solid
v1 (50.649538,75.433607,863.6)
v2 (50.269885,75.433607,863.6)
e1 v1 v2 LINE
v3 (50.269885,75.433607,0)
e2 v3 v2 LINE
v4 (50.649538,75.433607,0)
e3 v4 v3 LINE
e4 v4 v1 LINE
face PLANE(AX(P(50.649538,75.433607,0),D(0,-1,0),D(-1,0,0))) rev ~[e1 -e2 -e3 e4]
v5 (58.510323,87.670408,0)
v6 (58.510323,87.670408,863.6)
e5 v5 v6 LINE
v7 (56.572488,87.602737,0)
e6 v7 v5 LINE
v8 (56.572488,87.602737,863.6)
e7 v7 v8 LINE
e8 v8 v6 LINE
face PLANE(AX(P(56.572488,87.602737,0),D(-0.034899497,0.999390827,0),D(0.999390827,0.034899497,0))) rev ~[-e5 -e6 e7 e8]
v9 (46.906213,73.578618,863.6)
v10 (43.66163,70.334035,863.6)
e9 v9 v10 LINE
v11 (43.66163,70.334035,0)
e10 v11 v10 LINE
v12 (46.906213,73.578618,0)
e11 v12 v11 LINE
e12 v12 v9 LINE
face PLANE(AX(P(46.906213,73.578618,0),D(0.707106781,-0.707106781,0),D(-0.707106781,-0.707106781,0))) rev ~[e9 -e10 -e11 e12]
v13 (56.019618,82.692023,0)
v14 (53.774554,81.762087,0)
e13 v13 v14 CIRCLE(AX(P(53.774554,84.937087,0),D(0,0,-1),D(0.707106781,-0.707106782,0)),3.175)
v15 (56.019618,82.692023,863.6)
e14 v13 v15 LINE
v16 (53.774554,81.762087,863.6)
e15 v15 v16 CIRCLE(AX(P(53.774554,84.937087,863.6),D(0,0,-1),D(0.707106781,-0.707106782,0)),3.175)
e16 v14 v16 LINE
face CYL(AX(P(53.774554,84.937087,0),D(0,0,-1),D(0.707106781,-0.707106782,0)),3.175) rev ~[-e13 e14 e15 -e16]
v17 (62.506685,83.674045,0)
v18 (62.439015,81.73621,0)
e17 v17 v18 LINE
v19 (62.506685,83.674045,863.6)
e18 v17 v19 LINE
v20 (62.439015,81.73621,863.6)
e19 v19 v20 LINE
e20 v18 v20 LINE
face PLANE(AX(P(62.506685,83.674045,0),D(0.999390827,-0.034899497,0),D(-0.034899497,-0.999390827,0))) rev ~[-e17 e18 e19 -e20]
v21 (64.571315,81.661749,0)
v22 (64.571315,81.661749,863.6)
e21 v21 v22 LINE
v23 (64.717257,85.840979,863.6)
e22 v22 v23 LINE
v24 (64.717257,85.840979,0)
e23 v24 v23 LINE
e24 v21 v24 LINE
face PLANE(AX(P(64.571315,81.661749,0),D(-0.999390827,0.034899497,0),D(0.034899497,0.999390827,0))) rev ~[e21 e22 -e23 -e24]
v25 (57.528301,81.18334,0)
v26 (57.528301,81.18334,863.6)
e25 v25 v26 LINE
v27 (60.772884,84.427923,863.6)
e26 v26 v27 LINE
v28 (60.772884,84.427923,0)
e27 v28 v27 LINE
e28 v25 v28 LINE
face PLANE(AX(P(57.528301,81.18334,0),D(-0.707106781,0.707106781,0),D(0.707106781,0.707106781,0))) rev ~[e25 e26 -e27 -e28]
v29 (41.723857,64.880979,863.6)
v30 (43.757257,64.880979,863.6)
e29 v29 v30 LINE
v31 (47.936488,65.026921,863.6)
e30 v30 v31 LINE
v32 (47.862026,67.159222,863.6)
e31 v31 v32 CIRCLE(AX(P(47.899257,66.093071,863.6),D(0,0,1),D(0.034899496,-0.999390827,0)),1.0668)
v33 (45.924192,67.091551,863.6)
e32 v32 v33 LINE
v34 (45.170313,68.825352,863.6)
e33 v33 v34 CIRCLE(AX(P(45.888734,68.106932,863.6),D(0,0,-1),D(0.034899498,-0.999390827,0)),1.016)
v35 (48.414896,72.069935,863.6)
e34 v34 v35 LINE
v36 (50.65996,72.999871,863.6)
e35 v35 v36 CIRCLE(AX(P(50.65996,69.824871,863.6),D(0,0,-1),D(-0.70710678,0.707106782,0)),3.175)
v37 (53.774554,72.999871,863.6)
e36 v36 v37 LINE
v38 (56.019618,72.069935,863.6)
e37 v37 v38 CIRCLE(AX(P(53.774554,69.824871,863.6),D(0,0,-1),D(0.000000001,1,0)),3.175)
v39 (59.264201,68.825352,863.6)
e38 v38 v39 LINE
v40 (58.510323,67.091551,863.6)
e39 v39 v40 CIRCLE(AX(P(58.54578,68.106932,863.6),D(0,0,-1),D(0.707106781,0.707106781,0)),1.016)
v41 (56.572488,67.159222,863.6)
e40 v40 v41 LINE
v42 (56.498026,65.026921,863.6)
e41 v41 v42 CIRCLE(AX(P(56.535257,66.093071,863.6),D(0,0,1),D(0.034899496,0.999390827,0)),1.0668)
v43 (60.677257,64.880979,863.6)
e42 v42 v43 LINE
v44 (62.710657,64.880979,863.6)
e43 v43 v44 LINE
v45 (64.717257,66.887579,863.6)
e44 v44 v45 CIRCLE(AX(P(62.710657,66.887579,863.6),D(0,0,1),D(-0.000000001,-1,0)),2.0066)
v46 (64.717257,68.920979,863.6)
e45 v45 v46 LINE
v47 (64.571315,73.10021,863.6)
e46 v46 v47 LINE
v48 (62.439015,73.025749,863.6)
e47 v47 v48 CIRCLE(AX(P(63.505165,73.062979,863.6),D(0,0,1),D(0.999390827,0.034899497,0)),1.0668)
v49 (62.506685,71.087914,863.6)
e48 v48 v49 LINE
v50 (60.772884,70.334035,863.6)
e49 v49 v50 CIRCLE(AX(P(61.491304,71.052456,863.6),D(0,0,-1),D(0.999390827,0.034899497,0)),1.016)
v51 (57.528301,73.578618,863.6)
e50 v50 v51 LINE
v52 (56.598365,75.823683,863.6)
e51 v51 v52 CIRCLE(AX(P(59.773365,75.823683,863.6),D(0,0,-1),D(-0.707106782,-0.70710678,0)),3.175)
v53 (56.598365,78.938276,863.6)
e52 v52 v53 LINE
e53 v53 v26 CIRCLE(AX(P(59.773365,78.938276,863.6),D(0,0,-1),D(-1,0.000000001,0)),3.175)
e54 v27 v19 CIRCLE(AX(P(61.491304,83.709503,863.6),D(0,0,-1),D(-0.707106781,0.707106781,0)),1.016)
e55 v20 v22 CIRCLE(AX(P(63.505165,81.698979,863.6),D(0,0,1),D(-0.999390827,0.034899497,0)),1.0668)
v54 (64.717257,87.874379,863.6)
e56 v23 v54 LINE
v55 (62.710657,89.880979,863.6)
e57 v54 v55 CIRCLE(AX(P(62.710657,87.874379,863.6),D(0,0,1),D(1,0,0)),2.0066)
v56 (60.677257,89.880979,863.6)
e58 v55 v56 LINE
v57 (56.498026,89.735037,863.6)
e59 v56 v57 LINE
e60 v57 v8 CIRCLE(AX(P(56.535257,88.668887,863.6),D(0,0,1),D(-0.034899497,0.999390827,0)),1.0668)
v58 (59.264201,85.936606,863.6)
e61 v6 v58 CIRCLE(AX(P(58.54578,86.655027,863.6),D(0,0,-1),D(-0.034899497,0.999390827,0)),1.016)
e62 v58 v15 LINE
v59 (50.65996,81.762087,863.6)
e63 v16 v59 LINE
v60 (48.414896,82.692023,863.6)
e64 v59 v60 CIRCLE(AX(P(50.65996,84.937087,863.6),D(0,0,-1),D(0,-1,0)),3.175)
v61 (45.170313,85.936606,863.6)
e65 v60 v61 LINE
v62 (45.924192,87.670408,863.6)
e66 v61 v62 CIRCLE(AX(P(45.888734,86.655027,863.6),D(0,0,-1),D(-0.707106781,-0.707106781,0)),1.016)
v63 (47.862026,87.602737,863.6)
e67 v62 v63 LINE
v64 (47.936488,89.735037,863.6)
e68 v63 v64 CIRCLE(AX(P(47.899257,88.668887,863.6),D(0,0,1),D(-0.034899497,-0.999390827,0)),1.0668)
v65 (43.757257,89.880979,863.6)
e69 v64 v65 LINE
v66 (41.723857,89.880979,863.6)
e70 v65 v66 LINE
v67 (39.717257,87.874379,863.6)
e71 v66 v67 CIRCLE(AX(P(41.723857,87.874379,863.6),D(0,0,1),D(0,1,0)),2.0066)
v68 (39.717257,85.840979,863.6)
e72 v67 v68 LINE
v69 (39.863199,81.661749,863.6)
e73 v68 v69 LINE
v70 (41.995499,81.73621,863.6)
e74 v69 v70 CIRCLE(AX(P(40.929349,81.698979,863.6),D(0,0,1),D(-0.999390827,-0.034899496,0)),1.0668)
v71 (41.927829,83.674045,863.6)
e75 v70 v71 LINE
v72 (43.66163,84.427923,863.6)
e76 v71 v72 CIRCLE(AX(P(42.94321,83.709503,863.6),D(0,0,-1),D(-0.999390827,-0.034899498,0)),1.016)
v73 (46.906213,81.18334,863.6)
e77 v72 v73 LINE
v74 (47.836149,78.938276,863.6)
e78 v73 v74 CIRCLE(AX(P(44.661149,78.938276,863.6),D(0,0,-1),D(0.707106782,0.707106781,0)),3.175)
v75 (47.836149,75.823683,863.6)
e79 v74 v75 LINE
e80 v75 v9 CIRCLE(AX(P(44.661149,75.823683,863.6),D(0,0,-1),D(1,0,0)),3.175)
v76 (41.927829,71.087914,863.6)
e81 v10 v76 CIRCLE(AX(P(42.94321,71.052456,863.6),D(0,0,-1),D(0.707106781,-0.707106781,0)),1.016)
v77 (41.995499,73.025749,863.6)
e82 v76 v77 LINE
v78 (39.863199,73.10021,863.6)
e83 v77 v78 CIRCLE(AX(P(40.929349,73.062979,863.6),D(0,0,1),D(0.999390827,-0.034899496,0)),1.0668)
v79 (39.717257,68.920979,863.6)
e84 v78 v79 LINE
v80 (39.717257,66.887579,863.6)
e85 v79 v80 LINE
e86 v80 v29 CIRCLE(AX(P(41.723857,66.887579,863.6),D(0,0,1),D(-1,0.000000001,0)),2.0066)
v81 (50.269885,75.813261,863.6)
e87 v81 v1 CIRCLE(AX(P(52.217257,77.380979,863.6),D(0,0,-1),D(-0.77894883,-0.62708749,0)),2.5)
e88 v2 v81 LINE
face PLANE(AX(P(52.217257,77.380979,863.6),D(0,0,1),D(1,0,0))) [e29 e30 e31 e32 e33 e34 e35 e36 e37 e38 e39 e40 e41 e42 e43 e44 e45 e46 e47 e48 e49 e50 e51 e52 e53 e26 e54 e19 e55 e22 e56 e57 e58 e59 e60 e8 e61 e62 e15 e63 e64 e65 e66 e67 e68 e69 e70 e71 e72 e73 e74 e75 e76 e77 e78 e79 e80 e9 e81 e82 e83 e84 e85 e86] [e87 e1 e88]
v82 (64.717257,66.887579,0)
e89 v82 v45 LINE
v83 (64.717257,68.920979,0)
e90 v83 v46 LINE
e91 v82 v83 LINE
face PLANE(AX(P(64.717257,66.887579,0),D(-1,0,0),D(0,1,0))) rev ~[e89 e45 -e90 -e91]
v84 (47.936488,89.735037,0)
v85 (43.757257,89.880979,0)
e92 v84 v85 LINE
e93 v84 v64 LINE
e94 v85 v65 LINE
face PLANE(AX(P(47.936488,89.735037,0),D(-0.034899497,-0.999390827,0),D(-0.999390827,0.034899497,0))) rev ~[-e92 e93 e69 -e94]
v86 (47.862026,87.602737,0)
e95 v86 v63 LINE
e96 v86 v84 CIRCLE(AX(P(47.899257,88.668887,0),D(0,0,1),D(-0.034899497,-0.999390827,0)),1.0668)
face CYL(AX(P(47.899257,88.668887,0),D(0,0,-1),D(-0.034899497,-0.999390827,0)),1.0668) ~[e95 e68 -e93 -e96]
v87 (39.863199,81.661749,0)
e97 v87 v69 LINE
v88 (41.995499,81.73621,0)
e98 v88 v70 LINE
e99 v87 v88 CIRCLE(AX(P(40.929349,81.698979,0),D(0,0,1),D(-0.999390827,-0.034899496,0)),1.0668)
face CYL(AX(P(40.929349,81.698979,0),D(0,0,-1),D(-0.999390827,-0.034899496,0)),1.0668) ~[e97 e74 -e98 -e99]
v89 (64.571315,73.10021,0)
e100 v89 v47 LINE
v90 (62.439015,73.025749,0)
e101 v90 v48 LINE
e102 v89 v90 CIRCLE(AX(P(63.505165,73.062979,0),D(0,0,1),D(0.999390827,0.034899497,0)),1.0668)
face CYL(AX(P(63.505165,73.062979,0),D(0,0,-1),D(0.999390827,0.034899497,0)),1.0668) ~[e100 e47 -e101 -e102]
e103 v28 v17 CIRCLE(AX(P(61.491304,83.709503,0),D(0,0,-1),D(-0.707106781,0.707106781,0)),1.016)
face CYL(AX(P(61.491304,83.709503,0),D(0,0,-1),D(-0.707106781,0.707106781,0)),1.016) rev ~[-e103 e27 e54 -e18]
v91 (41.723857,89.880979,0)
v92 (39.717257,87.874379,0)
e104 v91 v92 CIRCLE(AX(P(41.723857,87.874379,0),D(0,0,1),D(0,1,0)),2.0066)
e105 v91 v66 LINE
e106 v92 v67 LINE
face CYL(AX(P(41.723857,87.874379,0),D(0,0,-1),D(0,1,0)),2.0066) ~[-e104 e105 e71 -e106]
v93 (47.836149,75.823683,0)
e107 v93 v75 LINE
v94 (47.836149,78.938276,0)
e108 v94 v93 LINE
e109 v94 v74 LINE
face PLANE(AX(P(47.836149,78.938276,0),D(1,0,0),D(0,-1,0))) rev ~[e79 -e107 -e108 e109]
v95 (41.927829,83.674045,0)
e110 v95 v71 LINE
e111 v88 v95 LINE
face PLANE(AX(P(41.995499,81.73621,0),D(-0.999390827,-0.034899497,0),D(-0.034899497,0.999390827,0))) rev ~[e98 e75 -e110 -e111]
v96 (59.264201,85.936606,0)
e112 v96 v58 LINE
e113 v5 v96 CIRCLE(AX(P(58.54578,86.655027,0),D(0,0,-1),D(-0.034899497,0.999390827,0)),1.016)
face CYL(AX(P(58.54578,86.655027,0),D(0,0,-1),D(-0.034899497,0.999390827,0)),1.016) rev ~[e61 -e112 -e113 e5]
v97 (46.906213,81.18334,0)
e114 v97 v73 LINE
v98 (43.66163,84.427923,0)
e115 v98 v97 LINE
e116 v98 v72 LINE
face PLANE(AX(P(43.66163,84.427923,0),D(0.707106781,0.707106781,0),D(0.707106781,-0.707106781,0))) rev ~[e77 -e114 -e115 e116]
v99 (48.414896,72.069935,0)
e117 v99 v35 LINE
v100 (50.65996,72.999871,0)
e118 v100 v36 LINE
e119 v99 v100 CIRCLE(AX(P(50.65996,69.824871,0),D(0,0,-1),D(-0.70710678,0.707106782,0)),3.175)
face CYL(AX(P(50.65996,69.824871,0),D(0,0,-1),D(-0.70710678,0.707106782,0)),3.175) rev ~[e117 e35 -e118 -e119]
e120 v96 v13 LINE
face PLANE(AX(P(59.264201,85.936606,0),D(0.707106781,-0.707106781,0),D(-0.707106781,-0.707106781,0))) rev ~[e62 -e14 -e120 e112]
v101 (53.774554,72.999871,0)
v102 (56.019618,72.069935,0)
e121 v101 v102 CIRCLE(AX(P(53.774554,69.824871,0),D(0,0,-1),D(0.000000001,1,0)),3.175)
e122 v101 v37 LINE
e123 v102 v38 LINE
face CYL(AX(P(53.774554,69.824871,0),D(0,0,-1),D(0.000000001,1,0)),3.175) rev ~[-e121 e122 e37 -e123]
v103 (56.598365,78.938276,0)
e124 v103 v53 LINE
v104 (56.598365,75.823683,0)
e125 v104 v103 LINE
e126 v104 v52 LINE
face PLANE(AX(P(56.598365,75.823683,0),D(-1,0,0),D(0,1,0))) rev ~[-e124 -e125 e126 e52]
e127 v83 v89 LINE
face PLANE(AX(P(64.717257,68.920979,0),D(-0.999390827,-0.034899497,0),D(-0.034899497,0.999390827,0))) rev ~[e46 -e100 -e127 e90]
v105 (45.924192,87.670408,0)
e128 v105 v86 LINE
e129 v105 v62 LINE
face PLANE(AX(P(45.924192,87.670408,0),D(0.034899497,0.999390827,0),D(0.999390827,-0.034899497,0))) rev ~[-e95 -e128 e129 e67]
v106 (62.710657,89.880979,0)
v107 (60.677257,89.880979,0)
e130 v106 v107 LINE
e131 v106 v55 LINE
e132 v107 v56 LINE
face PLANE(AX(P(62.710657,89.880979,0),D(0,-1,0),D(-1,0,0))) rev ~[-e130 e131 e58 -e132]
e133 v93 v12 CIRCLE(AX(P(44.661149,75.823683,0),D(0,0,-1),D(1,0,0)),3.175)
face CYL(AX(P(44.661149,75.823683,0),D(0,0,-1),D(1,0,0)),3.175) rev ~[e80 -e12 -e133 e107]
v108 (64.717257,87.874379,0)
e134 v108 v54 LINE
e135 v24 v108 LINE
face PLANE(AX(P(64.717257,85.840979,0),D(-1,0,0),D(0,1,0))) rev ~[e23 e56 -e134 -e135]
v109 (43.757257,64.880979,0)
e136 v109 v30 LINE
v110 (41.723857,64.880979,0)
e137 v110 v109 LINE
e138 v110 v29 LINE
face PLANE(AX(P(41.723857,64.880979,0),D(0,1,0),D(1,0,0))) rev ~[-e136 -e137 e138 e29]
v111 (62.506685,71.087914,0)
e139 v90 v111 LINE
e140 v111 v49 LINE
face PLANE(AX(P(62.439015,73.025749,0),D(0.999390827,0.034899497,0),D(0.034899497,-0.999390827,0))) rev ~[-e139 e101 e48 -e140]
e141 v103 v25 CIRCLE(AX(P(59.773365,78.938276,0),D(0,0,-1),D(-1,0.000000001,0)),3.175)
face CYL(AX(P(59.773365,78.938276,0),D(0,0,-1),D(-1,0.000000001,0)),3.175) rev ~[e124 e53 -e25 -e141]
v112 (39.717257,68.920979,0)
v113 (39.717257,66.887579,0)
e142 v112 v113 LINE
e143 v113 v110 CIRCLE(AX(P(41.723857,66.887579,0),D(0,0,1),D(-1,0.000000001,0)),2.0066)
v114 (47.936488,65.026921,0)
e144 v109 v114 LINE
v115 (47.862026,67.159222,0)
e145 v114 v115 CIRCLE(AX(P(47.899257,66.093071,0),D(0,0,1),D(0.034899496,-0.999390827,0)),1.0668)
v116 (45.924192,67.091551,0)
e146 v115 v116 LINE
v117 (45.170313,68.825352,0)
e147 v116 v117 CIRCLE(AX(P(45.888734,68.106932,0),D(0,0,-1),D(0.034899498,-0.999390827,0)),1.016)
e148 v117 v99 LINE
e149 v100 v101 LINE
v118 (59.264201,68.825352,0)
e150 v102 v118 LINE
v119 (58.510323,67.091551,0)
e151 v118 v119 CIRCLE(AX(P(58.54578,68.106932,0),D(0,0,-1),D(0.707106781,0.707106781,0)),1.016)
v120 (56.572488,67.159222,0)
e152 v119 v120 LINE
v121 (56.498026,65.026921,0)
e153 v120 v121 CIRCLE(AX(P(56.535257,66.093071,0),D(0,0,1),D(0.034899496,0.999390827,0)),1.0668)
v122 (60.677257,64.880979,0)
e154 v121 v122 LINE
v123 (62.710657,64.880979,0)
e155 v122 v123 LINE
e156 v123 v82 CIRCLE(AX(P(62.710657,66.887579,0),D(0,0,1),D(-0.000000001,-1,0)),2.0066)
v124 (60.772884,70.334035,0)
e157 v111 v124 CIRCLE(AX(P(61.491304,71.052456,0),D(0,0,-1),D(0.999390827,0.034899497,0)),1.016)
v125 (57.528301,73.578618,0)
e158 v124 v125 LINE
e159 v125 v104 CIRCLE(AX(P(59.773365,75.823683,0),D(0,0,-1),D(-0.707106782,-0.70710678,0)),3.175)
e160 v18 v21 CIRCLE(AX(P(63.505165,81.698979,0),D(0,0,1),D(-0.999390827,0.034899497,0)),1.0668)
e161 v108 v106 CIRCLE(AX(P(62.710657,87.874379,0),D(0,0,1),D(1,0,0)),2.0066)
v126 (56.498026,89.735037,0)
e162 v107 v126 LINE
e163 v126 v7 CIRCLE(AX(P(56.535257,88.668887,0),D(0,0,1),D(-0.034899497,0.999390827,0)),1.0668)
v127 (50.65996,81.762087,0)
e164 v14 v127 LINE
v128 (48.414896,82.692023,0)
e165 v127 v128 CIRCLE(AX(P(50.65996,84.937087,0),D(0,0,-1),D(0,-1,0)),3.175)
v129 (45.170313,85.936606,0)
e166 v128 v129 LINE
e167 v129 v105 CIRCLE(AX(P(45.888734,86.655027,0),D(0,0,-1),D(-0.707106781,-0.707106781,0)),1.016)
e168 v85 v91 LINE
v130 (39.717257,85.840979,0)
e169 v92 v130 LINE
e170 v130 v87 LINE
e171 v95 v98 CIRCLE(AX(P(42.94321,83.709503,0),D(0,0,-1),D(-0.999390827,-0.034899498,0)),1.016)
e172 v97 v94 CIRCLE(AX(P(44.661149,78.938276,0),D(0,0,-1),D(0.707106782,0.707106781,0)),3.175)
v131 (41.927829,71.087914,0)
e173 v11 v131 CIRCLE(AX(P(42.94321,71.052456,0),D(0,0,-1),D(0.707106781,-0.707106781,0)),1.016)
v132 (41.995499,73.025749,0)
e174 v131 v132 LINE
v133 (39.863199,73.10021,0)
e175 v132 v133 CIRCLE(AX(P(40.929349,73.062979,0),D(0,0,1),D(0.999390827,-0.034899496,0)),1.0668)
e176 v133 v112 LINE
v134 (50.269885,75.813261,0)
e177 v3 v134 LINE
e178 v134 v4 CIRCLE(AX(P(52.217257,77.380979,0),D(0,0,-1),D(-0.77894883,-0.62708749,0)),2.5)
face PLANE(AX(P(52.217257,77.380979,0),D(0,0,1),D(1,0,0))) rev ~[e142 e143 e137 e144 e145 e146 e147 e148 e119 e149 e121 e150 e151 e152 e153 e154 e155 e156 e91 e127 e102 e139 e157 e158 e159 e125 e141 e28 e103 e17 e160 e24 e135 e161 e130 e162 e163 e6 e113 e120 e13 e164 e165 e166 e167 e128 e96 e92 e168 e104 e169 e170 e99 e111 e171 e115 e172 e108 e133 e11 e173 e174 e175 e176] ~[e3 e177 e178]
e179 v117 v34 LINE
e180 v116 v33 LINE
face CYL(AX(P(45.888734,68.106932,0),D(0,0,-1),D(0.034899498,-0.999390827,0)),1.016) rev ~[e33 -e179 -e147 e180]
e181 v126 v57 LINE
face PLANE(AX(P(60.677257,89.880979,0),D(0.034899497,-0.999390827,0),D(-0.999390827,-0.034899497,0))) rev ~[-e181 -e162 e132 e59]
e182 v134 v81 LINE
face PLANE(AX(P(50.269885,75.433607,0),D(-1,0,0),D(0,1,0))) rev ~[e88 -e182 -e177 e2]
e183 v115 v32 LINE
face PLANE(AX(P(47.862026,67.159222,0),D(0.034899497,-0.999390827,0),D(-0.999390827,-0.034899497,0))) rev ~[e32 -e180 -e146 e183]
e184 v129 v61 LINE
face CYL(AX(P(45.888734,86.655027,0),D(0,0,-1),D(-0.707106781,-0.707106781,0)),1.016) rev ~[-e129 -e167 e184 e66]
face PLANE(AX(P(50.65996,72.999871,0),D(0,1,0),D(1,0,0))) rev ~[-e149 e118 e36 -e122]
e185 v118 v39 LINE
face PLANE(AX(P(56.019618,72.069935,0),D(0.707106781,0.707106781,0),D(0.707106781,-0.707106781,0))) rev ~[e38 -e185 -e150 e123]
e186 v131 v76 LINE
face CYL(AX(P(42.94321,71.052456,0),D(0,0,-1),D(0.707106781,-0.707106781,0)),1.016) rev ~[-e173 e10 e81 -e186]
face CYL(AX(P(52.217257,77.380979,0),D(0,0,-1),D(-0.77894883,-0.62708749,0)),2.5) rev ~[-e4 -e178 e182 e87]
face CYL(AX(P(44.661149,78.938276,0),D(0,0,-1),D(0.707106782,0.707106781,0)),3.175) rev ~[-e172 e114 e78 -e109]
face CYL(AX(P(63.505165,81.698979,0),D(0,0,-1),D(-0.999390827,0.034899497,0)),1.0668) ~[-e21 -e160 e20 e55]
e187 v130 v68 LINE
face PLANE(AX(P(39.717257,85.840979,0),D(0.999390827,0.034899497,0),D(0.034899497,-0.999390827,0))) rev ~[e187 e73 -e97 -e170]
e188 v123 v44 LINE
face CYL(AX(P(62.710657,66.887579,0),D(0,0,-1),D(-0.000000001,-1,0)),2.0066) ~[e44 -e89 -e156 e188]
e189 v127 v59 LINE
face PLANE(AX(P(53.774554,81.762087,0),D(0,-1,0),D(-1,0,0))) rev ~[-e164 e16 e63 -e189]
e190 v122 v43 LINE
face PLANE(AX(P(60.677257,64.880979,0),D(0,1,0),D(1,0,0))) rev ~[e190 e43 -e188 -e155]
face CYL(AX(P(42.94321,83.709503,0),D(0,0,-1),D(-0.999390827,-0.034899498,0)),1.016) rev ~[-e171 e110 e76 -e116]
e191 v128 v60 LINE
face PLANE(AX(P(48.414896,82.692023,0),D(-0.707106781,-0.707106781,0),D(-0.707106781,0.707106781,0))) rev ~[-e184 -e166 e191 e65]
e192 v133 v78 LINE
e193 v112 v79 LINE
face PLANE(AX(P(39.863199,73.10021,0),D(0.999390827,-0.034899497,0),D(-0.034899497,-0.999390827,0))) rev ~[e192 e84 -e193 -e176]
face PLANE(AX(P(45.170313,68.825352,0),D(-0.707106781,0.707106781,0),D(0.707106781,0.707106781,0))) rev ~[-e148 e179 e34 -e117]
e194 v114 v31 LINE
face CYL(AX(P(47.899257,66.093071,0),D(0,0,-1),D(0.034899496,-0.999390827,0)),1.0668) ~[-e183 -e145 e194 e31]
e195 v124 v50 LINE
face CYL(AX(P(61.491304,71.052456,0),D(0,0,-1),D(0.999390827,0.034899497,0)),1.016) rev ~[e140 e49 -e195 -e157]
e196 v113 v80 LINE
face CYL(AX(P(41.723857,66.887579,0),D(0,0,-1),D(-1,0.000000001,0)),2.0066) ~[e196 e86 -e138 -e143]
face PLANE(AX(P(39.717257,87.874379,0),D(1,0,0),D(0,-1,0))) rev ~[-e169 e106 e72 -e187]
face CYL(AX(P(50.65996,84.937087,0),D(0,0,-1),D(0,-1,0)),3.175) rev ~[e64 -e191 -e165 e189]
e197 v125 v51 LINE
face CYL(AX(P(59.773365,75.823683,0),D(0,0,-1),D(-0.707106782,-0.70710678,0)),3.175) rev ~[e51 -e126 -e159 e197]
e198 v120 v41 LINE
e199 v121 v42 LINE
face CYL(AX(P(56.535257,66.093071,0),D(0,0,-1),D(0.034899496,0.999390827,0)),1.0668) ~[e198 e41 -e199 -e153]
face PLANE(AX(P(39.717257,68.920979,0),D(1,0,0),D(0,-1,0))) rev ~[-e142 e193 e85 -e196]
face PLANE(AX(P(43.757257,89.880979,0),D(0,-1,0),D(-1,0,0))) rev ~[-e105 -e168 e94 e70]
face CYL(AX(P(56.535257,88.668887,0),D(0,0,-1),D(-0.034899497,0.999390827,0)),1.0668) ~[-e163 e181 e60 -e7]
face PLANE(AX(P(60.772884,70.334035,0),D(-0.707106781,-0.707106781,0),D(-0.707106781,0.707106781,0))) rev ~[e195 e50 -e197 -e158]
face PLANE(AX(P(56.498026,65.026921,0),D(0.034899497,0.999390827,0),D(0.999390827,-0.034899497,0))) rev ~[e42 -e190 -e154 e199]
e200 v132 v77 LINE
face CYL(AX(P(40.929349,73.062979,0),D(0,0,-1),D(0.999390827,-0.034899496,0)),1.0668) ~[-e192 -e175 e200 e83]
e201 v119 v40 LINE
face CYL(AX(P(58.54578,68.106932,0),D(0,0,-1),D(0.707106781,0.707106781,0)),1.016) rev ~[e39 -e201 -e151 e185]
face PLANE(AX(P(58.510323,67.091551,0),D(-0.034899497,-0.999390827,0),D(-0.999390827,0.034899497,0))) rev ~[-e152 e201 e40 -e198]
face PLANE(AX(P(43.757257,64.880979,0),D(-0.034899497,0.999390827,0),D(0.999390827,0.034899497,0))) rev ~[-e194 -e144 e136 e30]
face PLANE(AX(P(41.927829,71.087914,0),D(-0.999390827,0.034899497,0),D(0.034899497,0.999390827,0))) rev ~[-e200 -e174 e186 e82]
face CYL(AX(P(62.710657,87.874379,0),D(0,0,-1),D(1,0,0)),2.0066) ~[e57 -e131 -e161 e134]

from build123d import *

# Parameters (mm, degrees)
BOSS_EXTRUDE1_DEPTH = 863.6


with BuildPart() as part:
    # Model → Boss-Extrude1 (new body)
    with BuildSketch(Plane.XY):
        with BuildLine():
            Line((50.659960212, 72.999871414), (53.774553856, 72.999871414))
            ThreePointArc((53.774553856, 72.999871414), (54.989573754, 72.758188929), (56.019617887, 72.069935444))
            Line((56.019617887, 72.069935444), (59.264200891, 68.825352439))
            ThreePointArc((59.264200891, 68.825352439), (59.477513437, 67.701802895), (58.510322513, 67.091550869))
            Line((58.510322513, 67.091550869), (56.572487817, 67.159221548))
            ThreePointArc((56.572487817, 67.159221548), (55.4691069, 66.130302197), (56.498026251, 65.026921279))
            Line((56.498026251, 65.026921279), (60.677257034, 64.880979325))
            Line((60.677257034, 64.880979325), (62.710657034, 64.880979325))
            ThreePointArc((62.710657034, 64.880979325), (64.129537501, 65.468698857), (64.717257034, 66.887579325))
            Line((64.717257034, 66.887579325), (64.717257034, 68.920979325))
            Line((64.717257034, 68.920979325), (64.57131508, 73.100210108))
            ThreePointArc((64.57131508, 73.100210108), (63.467934162, 74.129129459), (62.439014811, 73.025748542))
            Line((62.439014811, 73.025748542), (62.50668549, 71.087913846))
            ThreePointArc((62.50668549, 71.087913846), (61.896433464, 70.120722922), (60.77288392, 70.334035468))
            Line((60.77288392, 70.334035468), (57.528300915, 73.578618472))
            ThreePointArc((57.528300915, 73.578618472), (56.84004743, 74.608662605), (56.598364945, 75.823682503))
            Line((56.598364945, 75.823682503), (56.598364945, 78.938276147))
            ThreePointArc((56.598364945, 78.938276147), (56.84004743, 80.153296044), (57.528300915, 81.183340177))
            Line((57.528300915, 81.183340177), (60.77288392, 84.427923182))
            ThreePointArc((60.77288392, 84.427923182), (61.896433464, 84.641235728), (62.50668549, 83.674044803))
            Line((62.50668549, 83.674044803), (62.439014811, 81.736210108))
            ThreePointArc((62.439014811, 81.736210108), (63.467934162, 80.63282919), (64.57131508, 81.661748542))
            Line((64.57131508, 81.661748542), (64.717257034, 85.840979325))
            Line((64.717257034, 85.840979325), (64.717257034, 87.874379325))
            ThreePointArc((64.717257034, 87.874379325), (64.129537501, 89.293259792), (62.710657034, 89.880979325))
            Line((62.710657034, 89.880979325), (60.677257034, 89.880979325))
            Line((60.677257034, 89.880979325), (56.498026251, 89.73503737))
            ThreePointArc((56.498026251, 89.73503737), (55.4691069, 88.631656452), (56.572487817, 87.602737101))
            Line((56.572487817, 87.602737101), (58.510322513, 87.67040778))
            ThreePointArc((58.510322513, 87.67040778), (59.477513437, 87.060155754), (59.264200891, 85.93660621))
            Line((59.264200891, 85.93660621), (56.019617887, 82.692023205))
            ThreePointArc((56.019617887, 82.692023205), (54.989573754, 82.00376972), (53.774553856, 81.762087236))
            Line((53.774553856, 81.762087236), (50.659960212, 81.762087236))
            ThreePointArc((50.659960212, 81.762087236), (49.444940315, 82.00376972), (48.414896182, 82.692023205))
            Line((48.414896182, 82.692023205), (45.170313177, 85.93660621))
            ThreePointArc((45.170313177, 85.93660621), (44.957000631, 87.060155754), (45.924191556, 87.67040778))
            Line((45.924191556, 87.67040778), (47.862026251, 87.602737101))
            ThreePointArc((47.862026251, 87.602737101), (48.965407169, 88.631656452), (47.936487817, 89.73503737))
            Line((47.936487817, 89.73503737), (43.757257034, 89.880979325))
            Line((43.757257034, 89.880979325), (41.723857034, 89.880979325))
            ThreePointArc((41.723857034, 89.880979325), (40.304976567, 89.293259792), (39.717257034, 87.874379325))
            Line((39.717257034, 87.874379325), (39.717257034, 85.840979325))
            Line((39.717257034, 85.840979325), (39.863198989, 81.661748542))
            ThreePointArc((39.863198989, 81.661748542), (40.966579907, 80.63282919), (41.995499258, 81.736210108))
            Line((41.995499258, 81.736210108), (41.927828579, 83.674044803))
            ThreePointArc((41.927828579, 83.674044803), (42.538080605, 84.641235728), (43.661630149, 84.427923182))
            Line((43.661630149, 84.427923182), (46.906213154, 81.183340177))
            ThreePointArc((46.906213154, 81.183340177), (47.594466639, 80.153296044), (47.836149123, 78.938276147))
            Line((47.836149123, 78.938276147), (47.836149123, 75.823682503))
            ThreePointArc((47.836149123, 75.823682503), (47.594466639, 74.608662605), (46.906213154, 73.578618472))
            Line((46.906213154, 73.578618472), (43.661630149, 70.334035468))
            ThreePointArc((43.661630149, 70.334035468), (42.538080605, 70.120722922), (41.927828579, 71.087913846))
            Line((41.927828579, 71.087913846), (41.995499258, 73.025748542))
            ThreePointArc((41.995499258, 73.025748542), (40.966579907, 74.129129459), (39.863198989, 73.100210108))
            Line((39.863198989, 73.100210108), (39.717257034, 68.920979325))
            Line((39.717257034, 68.920979325), (39.717257034, 66.887579325))
            ThreePointArc((39.717257034, 66.887579325), (40.304976567, 65.468698857), (41.723857034, 64.880979325))
            Line((41.723857034, 64.880979325), (43.757257034, 64.880979325))
            Line((43.757257034, 64.880979325), (47.936487817, 65.026921279))
            ThreePointArc((47.936487817, 65.026921279), (48.965407169, 66.130302197), (47.862026251, 67.159221548))
            Line((47.862026251, 67.159221548), (45.924191556, 67.091550869))
            ThreePointArc((45.924191556, 67.091550869), (44.957000631, 67.701802895), (45.170313177, 68.825352439))
            Line((45.170313177, 68.825352439), (48.414896182, 72.069935444))
            ThreePointArc((48.414896182, 72.069935444), (49.444940315, 72.758188929), (50.659960212, 72.999871414))
        make_face()
        with BuildLine():
            Line((50.64953831, 75.433607249), (50.269884959, 75.433607249))
            Line((50.269884959, 75.433607249), (50.269884959, 75.8132606))
            ThreePointArc((50.269884959, 75.8132606), (53.985023987, 79.148746278), (50.64953831, 75.433607249))
        make_face(mode=Mode.SUBTRACT)
    extrude(amount=BOSS_EXTRUDE1_DEPTH)


solid = part.part
